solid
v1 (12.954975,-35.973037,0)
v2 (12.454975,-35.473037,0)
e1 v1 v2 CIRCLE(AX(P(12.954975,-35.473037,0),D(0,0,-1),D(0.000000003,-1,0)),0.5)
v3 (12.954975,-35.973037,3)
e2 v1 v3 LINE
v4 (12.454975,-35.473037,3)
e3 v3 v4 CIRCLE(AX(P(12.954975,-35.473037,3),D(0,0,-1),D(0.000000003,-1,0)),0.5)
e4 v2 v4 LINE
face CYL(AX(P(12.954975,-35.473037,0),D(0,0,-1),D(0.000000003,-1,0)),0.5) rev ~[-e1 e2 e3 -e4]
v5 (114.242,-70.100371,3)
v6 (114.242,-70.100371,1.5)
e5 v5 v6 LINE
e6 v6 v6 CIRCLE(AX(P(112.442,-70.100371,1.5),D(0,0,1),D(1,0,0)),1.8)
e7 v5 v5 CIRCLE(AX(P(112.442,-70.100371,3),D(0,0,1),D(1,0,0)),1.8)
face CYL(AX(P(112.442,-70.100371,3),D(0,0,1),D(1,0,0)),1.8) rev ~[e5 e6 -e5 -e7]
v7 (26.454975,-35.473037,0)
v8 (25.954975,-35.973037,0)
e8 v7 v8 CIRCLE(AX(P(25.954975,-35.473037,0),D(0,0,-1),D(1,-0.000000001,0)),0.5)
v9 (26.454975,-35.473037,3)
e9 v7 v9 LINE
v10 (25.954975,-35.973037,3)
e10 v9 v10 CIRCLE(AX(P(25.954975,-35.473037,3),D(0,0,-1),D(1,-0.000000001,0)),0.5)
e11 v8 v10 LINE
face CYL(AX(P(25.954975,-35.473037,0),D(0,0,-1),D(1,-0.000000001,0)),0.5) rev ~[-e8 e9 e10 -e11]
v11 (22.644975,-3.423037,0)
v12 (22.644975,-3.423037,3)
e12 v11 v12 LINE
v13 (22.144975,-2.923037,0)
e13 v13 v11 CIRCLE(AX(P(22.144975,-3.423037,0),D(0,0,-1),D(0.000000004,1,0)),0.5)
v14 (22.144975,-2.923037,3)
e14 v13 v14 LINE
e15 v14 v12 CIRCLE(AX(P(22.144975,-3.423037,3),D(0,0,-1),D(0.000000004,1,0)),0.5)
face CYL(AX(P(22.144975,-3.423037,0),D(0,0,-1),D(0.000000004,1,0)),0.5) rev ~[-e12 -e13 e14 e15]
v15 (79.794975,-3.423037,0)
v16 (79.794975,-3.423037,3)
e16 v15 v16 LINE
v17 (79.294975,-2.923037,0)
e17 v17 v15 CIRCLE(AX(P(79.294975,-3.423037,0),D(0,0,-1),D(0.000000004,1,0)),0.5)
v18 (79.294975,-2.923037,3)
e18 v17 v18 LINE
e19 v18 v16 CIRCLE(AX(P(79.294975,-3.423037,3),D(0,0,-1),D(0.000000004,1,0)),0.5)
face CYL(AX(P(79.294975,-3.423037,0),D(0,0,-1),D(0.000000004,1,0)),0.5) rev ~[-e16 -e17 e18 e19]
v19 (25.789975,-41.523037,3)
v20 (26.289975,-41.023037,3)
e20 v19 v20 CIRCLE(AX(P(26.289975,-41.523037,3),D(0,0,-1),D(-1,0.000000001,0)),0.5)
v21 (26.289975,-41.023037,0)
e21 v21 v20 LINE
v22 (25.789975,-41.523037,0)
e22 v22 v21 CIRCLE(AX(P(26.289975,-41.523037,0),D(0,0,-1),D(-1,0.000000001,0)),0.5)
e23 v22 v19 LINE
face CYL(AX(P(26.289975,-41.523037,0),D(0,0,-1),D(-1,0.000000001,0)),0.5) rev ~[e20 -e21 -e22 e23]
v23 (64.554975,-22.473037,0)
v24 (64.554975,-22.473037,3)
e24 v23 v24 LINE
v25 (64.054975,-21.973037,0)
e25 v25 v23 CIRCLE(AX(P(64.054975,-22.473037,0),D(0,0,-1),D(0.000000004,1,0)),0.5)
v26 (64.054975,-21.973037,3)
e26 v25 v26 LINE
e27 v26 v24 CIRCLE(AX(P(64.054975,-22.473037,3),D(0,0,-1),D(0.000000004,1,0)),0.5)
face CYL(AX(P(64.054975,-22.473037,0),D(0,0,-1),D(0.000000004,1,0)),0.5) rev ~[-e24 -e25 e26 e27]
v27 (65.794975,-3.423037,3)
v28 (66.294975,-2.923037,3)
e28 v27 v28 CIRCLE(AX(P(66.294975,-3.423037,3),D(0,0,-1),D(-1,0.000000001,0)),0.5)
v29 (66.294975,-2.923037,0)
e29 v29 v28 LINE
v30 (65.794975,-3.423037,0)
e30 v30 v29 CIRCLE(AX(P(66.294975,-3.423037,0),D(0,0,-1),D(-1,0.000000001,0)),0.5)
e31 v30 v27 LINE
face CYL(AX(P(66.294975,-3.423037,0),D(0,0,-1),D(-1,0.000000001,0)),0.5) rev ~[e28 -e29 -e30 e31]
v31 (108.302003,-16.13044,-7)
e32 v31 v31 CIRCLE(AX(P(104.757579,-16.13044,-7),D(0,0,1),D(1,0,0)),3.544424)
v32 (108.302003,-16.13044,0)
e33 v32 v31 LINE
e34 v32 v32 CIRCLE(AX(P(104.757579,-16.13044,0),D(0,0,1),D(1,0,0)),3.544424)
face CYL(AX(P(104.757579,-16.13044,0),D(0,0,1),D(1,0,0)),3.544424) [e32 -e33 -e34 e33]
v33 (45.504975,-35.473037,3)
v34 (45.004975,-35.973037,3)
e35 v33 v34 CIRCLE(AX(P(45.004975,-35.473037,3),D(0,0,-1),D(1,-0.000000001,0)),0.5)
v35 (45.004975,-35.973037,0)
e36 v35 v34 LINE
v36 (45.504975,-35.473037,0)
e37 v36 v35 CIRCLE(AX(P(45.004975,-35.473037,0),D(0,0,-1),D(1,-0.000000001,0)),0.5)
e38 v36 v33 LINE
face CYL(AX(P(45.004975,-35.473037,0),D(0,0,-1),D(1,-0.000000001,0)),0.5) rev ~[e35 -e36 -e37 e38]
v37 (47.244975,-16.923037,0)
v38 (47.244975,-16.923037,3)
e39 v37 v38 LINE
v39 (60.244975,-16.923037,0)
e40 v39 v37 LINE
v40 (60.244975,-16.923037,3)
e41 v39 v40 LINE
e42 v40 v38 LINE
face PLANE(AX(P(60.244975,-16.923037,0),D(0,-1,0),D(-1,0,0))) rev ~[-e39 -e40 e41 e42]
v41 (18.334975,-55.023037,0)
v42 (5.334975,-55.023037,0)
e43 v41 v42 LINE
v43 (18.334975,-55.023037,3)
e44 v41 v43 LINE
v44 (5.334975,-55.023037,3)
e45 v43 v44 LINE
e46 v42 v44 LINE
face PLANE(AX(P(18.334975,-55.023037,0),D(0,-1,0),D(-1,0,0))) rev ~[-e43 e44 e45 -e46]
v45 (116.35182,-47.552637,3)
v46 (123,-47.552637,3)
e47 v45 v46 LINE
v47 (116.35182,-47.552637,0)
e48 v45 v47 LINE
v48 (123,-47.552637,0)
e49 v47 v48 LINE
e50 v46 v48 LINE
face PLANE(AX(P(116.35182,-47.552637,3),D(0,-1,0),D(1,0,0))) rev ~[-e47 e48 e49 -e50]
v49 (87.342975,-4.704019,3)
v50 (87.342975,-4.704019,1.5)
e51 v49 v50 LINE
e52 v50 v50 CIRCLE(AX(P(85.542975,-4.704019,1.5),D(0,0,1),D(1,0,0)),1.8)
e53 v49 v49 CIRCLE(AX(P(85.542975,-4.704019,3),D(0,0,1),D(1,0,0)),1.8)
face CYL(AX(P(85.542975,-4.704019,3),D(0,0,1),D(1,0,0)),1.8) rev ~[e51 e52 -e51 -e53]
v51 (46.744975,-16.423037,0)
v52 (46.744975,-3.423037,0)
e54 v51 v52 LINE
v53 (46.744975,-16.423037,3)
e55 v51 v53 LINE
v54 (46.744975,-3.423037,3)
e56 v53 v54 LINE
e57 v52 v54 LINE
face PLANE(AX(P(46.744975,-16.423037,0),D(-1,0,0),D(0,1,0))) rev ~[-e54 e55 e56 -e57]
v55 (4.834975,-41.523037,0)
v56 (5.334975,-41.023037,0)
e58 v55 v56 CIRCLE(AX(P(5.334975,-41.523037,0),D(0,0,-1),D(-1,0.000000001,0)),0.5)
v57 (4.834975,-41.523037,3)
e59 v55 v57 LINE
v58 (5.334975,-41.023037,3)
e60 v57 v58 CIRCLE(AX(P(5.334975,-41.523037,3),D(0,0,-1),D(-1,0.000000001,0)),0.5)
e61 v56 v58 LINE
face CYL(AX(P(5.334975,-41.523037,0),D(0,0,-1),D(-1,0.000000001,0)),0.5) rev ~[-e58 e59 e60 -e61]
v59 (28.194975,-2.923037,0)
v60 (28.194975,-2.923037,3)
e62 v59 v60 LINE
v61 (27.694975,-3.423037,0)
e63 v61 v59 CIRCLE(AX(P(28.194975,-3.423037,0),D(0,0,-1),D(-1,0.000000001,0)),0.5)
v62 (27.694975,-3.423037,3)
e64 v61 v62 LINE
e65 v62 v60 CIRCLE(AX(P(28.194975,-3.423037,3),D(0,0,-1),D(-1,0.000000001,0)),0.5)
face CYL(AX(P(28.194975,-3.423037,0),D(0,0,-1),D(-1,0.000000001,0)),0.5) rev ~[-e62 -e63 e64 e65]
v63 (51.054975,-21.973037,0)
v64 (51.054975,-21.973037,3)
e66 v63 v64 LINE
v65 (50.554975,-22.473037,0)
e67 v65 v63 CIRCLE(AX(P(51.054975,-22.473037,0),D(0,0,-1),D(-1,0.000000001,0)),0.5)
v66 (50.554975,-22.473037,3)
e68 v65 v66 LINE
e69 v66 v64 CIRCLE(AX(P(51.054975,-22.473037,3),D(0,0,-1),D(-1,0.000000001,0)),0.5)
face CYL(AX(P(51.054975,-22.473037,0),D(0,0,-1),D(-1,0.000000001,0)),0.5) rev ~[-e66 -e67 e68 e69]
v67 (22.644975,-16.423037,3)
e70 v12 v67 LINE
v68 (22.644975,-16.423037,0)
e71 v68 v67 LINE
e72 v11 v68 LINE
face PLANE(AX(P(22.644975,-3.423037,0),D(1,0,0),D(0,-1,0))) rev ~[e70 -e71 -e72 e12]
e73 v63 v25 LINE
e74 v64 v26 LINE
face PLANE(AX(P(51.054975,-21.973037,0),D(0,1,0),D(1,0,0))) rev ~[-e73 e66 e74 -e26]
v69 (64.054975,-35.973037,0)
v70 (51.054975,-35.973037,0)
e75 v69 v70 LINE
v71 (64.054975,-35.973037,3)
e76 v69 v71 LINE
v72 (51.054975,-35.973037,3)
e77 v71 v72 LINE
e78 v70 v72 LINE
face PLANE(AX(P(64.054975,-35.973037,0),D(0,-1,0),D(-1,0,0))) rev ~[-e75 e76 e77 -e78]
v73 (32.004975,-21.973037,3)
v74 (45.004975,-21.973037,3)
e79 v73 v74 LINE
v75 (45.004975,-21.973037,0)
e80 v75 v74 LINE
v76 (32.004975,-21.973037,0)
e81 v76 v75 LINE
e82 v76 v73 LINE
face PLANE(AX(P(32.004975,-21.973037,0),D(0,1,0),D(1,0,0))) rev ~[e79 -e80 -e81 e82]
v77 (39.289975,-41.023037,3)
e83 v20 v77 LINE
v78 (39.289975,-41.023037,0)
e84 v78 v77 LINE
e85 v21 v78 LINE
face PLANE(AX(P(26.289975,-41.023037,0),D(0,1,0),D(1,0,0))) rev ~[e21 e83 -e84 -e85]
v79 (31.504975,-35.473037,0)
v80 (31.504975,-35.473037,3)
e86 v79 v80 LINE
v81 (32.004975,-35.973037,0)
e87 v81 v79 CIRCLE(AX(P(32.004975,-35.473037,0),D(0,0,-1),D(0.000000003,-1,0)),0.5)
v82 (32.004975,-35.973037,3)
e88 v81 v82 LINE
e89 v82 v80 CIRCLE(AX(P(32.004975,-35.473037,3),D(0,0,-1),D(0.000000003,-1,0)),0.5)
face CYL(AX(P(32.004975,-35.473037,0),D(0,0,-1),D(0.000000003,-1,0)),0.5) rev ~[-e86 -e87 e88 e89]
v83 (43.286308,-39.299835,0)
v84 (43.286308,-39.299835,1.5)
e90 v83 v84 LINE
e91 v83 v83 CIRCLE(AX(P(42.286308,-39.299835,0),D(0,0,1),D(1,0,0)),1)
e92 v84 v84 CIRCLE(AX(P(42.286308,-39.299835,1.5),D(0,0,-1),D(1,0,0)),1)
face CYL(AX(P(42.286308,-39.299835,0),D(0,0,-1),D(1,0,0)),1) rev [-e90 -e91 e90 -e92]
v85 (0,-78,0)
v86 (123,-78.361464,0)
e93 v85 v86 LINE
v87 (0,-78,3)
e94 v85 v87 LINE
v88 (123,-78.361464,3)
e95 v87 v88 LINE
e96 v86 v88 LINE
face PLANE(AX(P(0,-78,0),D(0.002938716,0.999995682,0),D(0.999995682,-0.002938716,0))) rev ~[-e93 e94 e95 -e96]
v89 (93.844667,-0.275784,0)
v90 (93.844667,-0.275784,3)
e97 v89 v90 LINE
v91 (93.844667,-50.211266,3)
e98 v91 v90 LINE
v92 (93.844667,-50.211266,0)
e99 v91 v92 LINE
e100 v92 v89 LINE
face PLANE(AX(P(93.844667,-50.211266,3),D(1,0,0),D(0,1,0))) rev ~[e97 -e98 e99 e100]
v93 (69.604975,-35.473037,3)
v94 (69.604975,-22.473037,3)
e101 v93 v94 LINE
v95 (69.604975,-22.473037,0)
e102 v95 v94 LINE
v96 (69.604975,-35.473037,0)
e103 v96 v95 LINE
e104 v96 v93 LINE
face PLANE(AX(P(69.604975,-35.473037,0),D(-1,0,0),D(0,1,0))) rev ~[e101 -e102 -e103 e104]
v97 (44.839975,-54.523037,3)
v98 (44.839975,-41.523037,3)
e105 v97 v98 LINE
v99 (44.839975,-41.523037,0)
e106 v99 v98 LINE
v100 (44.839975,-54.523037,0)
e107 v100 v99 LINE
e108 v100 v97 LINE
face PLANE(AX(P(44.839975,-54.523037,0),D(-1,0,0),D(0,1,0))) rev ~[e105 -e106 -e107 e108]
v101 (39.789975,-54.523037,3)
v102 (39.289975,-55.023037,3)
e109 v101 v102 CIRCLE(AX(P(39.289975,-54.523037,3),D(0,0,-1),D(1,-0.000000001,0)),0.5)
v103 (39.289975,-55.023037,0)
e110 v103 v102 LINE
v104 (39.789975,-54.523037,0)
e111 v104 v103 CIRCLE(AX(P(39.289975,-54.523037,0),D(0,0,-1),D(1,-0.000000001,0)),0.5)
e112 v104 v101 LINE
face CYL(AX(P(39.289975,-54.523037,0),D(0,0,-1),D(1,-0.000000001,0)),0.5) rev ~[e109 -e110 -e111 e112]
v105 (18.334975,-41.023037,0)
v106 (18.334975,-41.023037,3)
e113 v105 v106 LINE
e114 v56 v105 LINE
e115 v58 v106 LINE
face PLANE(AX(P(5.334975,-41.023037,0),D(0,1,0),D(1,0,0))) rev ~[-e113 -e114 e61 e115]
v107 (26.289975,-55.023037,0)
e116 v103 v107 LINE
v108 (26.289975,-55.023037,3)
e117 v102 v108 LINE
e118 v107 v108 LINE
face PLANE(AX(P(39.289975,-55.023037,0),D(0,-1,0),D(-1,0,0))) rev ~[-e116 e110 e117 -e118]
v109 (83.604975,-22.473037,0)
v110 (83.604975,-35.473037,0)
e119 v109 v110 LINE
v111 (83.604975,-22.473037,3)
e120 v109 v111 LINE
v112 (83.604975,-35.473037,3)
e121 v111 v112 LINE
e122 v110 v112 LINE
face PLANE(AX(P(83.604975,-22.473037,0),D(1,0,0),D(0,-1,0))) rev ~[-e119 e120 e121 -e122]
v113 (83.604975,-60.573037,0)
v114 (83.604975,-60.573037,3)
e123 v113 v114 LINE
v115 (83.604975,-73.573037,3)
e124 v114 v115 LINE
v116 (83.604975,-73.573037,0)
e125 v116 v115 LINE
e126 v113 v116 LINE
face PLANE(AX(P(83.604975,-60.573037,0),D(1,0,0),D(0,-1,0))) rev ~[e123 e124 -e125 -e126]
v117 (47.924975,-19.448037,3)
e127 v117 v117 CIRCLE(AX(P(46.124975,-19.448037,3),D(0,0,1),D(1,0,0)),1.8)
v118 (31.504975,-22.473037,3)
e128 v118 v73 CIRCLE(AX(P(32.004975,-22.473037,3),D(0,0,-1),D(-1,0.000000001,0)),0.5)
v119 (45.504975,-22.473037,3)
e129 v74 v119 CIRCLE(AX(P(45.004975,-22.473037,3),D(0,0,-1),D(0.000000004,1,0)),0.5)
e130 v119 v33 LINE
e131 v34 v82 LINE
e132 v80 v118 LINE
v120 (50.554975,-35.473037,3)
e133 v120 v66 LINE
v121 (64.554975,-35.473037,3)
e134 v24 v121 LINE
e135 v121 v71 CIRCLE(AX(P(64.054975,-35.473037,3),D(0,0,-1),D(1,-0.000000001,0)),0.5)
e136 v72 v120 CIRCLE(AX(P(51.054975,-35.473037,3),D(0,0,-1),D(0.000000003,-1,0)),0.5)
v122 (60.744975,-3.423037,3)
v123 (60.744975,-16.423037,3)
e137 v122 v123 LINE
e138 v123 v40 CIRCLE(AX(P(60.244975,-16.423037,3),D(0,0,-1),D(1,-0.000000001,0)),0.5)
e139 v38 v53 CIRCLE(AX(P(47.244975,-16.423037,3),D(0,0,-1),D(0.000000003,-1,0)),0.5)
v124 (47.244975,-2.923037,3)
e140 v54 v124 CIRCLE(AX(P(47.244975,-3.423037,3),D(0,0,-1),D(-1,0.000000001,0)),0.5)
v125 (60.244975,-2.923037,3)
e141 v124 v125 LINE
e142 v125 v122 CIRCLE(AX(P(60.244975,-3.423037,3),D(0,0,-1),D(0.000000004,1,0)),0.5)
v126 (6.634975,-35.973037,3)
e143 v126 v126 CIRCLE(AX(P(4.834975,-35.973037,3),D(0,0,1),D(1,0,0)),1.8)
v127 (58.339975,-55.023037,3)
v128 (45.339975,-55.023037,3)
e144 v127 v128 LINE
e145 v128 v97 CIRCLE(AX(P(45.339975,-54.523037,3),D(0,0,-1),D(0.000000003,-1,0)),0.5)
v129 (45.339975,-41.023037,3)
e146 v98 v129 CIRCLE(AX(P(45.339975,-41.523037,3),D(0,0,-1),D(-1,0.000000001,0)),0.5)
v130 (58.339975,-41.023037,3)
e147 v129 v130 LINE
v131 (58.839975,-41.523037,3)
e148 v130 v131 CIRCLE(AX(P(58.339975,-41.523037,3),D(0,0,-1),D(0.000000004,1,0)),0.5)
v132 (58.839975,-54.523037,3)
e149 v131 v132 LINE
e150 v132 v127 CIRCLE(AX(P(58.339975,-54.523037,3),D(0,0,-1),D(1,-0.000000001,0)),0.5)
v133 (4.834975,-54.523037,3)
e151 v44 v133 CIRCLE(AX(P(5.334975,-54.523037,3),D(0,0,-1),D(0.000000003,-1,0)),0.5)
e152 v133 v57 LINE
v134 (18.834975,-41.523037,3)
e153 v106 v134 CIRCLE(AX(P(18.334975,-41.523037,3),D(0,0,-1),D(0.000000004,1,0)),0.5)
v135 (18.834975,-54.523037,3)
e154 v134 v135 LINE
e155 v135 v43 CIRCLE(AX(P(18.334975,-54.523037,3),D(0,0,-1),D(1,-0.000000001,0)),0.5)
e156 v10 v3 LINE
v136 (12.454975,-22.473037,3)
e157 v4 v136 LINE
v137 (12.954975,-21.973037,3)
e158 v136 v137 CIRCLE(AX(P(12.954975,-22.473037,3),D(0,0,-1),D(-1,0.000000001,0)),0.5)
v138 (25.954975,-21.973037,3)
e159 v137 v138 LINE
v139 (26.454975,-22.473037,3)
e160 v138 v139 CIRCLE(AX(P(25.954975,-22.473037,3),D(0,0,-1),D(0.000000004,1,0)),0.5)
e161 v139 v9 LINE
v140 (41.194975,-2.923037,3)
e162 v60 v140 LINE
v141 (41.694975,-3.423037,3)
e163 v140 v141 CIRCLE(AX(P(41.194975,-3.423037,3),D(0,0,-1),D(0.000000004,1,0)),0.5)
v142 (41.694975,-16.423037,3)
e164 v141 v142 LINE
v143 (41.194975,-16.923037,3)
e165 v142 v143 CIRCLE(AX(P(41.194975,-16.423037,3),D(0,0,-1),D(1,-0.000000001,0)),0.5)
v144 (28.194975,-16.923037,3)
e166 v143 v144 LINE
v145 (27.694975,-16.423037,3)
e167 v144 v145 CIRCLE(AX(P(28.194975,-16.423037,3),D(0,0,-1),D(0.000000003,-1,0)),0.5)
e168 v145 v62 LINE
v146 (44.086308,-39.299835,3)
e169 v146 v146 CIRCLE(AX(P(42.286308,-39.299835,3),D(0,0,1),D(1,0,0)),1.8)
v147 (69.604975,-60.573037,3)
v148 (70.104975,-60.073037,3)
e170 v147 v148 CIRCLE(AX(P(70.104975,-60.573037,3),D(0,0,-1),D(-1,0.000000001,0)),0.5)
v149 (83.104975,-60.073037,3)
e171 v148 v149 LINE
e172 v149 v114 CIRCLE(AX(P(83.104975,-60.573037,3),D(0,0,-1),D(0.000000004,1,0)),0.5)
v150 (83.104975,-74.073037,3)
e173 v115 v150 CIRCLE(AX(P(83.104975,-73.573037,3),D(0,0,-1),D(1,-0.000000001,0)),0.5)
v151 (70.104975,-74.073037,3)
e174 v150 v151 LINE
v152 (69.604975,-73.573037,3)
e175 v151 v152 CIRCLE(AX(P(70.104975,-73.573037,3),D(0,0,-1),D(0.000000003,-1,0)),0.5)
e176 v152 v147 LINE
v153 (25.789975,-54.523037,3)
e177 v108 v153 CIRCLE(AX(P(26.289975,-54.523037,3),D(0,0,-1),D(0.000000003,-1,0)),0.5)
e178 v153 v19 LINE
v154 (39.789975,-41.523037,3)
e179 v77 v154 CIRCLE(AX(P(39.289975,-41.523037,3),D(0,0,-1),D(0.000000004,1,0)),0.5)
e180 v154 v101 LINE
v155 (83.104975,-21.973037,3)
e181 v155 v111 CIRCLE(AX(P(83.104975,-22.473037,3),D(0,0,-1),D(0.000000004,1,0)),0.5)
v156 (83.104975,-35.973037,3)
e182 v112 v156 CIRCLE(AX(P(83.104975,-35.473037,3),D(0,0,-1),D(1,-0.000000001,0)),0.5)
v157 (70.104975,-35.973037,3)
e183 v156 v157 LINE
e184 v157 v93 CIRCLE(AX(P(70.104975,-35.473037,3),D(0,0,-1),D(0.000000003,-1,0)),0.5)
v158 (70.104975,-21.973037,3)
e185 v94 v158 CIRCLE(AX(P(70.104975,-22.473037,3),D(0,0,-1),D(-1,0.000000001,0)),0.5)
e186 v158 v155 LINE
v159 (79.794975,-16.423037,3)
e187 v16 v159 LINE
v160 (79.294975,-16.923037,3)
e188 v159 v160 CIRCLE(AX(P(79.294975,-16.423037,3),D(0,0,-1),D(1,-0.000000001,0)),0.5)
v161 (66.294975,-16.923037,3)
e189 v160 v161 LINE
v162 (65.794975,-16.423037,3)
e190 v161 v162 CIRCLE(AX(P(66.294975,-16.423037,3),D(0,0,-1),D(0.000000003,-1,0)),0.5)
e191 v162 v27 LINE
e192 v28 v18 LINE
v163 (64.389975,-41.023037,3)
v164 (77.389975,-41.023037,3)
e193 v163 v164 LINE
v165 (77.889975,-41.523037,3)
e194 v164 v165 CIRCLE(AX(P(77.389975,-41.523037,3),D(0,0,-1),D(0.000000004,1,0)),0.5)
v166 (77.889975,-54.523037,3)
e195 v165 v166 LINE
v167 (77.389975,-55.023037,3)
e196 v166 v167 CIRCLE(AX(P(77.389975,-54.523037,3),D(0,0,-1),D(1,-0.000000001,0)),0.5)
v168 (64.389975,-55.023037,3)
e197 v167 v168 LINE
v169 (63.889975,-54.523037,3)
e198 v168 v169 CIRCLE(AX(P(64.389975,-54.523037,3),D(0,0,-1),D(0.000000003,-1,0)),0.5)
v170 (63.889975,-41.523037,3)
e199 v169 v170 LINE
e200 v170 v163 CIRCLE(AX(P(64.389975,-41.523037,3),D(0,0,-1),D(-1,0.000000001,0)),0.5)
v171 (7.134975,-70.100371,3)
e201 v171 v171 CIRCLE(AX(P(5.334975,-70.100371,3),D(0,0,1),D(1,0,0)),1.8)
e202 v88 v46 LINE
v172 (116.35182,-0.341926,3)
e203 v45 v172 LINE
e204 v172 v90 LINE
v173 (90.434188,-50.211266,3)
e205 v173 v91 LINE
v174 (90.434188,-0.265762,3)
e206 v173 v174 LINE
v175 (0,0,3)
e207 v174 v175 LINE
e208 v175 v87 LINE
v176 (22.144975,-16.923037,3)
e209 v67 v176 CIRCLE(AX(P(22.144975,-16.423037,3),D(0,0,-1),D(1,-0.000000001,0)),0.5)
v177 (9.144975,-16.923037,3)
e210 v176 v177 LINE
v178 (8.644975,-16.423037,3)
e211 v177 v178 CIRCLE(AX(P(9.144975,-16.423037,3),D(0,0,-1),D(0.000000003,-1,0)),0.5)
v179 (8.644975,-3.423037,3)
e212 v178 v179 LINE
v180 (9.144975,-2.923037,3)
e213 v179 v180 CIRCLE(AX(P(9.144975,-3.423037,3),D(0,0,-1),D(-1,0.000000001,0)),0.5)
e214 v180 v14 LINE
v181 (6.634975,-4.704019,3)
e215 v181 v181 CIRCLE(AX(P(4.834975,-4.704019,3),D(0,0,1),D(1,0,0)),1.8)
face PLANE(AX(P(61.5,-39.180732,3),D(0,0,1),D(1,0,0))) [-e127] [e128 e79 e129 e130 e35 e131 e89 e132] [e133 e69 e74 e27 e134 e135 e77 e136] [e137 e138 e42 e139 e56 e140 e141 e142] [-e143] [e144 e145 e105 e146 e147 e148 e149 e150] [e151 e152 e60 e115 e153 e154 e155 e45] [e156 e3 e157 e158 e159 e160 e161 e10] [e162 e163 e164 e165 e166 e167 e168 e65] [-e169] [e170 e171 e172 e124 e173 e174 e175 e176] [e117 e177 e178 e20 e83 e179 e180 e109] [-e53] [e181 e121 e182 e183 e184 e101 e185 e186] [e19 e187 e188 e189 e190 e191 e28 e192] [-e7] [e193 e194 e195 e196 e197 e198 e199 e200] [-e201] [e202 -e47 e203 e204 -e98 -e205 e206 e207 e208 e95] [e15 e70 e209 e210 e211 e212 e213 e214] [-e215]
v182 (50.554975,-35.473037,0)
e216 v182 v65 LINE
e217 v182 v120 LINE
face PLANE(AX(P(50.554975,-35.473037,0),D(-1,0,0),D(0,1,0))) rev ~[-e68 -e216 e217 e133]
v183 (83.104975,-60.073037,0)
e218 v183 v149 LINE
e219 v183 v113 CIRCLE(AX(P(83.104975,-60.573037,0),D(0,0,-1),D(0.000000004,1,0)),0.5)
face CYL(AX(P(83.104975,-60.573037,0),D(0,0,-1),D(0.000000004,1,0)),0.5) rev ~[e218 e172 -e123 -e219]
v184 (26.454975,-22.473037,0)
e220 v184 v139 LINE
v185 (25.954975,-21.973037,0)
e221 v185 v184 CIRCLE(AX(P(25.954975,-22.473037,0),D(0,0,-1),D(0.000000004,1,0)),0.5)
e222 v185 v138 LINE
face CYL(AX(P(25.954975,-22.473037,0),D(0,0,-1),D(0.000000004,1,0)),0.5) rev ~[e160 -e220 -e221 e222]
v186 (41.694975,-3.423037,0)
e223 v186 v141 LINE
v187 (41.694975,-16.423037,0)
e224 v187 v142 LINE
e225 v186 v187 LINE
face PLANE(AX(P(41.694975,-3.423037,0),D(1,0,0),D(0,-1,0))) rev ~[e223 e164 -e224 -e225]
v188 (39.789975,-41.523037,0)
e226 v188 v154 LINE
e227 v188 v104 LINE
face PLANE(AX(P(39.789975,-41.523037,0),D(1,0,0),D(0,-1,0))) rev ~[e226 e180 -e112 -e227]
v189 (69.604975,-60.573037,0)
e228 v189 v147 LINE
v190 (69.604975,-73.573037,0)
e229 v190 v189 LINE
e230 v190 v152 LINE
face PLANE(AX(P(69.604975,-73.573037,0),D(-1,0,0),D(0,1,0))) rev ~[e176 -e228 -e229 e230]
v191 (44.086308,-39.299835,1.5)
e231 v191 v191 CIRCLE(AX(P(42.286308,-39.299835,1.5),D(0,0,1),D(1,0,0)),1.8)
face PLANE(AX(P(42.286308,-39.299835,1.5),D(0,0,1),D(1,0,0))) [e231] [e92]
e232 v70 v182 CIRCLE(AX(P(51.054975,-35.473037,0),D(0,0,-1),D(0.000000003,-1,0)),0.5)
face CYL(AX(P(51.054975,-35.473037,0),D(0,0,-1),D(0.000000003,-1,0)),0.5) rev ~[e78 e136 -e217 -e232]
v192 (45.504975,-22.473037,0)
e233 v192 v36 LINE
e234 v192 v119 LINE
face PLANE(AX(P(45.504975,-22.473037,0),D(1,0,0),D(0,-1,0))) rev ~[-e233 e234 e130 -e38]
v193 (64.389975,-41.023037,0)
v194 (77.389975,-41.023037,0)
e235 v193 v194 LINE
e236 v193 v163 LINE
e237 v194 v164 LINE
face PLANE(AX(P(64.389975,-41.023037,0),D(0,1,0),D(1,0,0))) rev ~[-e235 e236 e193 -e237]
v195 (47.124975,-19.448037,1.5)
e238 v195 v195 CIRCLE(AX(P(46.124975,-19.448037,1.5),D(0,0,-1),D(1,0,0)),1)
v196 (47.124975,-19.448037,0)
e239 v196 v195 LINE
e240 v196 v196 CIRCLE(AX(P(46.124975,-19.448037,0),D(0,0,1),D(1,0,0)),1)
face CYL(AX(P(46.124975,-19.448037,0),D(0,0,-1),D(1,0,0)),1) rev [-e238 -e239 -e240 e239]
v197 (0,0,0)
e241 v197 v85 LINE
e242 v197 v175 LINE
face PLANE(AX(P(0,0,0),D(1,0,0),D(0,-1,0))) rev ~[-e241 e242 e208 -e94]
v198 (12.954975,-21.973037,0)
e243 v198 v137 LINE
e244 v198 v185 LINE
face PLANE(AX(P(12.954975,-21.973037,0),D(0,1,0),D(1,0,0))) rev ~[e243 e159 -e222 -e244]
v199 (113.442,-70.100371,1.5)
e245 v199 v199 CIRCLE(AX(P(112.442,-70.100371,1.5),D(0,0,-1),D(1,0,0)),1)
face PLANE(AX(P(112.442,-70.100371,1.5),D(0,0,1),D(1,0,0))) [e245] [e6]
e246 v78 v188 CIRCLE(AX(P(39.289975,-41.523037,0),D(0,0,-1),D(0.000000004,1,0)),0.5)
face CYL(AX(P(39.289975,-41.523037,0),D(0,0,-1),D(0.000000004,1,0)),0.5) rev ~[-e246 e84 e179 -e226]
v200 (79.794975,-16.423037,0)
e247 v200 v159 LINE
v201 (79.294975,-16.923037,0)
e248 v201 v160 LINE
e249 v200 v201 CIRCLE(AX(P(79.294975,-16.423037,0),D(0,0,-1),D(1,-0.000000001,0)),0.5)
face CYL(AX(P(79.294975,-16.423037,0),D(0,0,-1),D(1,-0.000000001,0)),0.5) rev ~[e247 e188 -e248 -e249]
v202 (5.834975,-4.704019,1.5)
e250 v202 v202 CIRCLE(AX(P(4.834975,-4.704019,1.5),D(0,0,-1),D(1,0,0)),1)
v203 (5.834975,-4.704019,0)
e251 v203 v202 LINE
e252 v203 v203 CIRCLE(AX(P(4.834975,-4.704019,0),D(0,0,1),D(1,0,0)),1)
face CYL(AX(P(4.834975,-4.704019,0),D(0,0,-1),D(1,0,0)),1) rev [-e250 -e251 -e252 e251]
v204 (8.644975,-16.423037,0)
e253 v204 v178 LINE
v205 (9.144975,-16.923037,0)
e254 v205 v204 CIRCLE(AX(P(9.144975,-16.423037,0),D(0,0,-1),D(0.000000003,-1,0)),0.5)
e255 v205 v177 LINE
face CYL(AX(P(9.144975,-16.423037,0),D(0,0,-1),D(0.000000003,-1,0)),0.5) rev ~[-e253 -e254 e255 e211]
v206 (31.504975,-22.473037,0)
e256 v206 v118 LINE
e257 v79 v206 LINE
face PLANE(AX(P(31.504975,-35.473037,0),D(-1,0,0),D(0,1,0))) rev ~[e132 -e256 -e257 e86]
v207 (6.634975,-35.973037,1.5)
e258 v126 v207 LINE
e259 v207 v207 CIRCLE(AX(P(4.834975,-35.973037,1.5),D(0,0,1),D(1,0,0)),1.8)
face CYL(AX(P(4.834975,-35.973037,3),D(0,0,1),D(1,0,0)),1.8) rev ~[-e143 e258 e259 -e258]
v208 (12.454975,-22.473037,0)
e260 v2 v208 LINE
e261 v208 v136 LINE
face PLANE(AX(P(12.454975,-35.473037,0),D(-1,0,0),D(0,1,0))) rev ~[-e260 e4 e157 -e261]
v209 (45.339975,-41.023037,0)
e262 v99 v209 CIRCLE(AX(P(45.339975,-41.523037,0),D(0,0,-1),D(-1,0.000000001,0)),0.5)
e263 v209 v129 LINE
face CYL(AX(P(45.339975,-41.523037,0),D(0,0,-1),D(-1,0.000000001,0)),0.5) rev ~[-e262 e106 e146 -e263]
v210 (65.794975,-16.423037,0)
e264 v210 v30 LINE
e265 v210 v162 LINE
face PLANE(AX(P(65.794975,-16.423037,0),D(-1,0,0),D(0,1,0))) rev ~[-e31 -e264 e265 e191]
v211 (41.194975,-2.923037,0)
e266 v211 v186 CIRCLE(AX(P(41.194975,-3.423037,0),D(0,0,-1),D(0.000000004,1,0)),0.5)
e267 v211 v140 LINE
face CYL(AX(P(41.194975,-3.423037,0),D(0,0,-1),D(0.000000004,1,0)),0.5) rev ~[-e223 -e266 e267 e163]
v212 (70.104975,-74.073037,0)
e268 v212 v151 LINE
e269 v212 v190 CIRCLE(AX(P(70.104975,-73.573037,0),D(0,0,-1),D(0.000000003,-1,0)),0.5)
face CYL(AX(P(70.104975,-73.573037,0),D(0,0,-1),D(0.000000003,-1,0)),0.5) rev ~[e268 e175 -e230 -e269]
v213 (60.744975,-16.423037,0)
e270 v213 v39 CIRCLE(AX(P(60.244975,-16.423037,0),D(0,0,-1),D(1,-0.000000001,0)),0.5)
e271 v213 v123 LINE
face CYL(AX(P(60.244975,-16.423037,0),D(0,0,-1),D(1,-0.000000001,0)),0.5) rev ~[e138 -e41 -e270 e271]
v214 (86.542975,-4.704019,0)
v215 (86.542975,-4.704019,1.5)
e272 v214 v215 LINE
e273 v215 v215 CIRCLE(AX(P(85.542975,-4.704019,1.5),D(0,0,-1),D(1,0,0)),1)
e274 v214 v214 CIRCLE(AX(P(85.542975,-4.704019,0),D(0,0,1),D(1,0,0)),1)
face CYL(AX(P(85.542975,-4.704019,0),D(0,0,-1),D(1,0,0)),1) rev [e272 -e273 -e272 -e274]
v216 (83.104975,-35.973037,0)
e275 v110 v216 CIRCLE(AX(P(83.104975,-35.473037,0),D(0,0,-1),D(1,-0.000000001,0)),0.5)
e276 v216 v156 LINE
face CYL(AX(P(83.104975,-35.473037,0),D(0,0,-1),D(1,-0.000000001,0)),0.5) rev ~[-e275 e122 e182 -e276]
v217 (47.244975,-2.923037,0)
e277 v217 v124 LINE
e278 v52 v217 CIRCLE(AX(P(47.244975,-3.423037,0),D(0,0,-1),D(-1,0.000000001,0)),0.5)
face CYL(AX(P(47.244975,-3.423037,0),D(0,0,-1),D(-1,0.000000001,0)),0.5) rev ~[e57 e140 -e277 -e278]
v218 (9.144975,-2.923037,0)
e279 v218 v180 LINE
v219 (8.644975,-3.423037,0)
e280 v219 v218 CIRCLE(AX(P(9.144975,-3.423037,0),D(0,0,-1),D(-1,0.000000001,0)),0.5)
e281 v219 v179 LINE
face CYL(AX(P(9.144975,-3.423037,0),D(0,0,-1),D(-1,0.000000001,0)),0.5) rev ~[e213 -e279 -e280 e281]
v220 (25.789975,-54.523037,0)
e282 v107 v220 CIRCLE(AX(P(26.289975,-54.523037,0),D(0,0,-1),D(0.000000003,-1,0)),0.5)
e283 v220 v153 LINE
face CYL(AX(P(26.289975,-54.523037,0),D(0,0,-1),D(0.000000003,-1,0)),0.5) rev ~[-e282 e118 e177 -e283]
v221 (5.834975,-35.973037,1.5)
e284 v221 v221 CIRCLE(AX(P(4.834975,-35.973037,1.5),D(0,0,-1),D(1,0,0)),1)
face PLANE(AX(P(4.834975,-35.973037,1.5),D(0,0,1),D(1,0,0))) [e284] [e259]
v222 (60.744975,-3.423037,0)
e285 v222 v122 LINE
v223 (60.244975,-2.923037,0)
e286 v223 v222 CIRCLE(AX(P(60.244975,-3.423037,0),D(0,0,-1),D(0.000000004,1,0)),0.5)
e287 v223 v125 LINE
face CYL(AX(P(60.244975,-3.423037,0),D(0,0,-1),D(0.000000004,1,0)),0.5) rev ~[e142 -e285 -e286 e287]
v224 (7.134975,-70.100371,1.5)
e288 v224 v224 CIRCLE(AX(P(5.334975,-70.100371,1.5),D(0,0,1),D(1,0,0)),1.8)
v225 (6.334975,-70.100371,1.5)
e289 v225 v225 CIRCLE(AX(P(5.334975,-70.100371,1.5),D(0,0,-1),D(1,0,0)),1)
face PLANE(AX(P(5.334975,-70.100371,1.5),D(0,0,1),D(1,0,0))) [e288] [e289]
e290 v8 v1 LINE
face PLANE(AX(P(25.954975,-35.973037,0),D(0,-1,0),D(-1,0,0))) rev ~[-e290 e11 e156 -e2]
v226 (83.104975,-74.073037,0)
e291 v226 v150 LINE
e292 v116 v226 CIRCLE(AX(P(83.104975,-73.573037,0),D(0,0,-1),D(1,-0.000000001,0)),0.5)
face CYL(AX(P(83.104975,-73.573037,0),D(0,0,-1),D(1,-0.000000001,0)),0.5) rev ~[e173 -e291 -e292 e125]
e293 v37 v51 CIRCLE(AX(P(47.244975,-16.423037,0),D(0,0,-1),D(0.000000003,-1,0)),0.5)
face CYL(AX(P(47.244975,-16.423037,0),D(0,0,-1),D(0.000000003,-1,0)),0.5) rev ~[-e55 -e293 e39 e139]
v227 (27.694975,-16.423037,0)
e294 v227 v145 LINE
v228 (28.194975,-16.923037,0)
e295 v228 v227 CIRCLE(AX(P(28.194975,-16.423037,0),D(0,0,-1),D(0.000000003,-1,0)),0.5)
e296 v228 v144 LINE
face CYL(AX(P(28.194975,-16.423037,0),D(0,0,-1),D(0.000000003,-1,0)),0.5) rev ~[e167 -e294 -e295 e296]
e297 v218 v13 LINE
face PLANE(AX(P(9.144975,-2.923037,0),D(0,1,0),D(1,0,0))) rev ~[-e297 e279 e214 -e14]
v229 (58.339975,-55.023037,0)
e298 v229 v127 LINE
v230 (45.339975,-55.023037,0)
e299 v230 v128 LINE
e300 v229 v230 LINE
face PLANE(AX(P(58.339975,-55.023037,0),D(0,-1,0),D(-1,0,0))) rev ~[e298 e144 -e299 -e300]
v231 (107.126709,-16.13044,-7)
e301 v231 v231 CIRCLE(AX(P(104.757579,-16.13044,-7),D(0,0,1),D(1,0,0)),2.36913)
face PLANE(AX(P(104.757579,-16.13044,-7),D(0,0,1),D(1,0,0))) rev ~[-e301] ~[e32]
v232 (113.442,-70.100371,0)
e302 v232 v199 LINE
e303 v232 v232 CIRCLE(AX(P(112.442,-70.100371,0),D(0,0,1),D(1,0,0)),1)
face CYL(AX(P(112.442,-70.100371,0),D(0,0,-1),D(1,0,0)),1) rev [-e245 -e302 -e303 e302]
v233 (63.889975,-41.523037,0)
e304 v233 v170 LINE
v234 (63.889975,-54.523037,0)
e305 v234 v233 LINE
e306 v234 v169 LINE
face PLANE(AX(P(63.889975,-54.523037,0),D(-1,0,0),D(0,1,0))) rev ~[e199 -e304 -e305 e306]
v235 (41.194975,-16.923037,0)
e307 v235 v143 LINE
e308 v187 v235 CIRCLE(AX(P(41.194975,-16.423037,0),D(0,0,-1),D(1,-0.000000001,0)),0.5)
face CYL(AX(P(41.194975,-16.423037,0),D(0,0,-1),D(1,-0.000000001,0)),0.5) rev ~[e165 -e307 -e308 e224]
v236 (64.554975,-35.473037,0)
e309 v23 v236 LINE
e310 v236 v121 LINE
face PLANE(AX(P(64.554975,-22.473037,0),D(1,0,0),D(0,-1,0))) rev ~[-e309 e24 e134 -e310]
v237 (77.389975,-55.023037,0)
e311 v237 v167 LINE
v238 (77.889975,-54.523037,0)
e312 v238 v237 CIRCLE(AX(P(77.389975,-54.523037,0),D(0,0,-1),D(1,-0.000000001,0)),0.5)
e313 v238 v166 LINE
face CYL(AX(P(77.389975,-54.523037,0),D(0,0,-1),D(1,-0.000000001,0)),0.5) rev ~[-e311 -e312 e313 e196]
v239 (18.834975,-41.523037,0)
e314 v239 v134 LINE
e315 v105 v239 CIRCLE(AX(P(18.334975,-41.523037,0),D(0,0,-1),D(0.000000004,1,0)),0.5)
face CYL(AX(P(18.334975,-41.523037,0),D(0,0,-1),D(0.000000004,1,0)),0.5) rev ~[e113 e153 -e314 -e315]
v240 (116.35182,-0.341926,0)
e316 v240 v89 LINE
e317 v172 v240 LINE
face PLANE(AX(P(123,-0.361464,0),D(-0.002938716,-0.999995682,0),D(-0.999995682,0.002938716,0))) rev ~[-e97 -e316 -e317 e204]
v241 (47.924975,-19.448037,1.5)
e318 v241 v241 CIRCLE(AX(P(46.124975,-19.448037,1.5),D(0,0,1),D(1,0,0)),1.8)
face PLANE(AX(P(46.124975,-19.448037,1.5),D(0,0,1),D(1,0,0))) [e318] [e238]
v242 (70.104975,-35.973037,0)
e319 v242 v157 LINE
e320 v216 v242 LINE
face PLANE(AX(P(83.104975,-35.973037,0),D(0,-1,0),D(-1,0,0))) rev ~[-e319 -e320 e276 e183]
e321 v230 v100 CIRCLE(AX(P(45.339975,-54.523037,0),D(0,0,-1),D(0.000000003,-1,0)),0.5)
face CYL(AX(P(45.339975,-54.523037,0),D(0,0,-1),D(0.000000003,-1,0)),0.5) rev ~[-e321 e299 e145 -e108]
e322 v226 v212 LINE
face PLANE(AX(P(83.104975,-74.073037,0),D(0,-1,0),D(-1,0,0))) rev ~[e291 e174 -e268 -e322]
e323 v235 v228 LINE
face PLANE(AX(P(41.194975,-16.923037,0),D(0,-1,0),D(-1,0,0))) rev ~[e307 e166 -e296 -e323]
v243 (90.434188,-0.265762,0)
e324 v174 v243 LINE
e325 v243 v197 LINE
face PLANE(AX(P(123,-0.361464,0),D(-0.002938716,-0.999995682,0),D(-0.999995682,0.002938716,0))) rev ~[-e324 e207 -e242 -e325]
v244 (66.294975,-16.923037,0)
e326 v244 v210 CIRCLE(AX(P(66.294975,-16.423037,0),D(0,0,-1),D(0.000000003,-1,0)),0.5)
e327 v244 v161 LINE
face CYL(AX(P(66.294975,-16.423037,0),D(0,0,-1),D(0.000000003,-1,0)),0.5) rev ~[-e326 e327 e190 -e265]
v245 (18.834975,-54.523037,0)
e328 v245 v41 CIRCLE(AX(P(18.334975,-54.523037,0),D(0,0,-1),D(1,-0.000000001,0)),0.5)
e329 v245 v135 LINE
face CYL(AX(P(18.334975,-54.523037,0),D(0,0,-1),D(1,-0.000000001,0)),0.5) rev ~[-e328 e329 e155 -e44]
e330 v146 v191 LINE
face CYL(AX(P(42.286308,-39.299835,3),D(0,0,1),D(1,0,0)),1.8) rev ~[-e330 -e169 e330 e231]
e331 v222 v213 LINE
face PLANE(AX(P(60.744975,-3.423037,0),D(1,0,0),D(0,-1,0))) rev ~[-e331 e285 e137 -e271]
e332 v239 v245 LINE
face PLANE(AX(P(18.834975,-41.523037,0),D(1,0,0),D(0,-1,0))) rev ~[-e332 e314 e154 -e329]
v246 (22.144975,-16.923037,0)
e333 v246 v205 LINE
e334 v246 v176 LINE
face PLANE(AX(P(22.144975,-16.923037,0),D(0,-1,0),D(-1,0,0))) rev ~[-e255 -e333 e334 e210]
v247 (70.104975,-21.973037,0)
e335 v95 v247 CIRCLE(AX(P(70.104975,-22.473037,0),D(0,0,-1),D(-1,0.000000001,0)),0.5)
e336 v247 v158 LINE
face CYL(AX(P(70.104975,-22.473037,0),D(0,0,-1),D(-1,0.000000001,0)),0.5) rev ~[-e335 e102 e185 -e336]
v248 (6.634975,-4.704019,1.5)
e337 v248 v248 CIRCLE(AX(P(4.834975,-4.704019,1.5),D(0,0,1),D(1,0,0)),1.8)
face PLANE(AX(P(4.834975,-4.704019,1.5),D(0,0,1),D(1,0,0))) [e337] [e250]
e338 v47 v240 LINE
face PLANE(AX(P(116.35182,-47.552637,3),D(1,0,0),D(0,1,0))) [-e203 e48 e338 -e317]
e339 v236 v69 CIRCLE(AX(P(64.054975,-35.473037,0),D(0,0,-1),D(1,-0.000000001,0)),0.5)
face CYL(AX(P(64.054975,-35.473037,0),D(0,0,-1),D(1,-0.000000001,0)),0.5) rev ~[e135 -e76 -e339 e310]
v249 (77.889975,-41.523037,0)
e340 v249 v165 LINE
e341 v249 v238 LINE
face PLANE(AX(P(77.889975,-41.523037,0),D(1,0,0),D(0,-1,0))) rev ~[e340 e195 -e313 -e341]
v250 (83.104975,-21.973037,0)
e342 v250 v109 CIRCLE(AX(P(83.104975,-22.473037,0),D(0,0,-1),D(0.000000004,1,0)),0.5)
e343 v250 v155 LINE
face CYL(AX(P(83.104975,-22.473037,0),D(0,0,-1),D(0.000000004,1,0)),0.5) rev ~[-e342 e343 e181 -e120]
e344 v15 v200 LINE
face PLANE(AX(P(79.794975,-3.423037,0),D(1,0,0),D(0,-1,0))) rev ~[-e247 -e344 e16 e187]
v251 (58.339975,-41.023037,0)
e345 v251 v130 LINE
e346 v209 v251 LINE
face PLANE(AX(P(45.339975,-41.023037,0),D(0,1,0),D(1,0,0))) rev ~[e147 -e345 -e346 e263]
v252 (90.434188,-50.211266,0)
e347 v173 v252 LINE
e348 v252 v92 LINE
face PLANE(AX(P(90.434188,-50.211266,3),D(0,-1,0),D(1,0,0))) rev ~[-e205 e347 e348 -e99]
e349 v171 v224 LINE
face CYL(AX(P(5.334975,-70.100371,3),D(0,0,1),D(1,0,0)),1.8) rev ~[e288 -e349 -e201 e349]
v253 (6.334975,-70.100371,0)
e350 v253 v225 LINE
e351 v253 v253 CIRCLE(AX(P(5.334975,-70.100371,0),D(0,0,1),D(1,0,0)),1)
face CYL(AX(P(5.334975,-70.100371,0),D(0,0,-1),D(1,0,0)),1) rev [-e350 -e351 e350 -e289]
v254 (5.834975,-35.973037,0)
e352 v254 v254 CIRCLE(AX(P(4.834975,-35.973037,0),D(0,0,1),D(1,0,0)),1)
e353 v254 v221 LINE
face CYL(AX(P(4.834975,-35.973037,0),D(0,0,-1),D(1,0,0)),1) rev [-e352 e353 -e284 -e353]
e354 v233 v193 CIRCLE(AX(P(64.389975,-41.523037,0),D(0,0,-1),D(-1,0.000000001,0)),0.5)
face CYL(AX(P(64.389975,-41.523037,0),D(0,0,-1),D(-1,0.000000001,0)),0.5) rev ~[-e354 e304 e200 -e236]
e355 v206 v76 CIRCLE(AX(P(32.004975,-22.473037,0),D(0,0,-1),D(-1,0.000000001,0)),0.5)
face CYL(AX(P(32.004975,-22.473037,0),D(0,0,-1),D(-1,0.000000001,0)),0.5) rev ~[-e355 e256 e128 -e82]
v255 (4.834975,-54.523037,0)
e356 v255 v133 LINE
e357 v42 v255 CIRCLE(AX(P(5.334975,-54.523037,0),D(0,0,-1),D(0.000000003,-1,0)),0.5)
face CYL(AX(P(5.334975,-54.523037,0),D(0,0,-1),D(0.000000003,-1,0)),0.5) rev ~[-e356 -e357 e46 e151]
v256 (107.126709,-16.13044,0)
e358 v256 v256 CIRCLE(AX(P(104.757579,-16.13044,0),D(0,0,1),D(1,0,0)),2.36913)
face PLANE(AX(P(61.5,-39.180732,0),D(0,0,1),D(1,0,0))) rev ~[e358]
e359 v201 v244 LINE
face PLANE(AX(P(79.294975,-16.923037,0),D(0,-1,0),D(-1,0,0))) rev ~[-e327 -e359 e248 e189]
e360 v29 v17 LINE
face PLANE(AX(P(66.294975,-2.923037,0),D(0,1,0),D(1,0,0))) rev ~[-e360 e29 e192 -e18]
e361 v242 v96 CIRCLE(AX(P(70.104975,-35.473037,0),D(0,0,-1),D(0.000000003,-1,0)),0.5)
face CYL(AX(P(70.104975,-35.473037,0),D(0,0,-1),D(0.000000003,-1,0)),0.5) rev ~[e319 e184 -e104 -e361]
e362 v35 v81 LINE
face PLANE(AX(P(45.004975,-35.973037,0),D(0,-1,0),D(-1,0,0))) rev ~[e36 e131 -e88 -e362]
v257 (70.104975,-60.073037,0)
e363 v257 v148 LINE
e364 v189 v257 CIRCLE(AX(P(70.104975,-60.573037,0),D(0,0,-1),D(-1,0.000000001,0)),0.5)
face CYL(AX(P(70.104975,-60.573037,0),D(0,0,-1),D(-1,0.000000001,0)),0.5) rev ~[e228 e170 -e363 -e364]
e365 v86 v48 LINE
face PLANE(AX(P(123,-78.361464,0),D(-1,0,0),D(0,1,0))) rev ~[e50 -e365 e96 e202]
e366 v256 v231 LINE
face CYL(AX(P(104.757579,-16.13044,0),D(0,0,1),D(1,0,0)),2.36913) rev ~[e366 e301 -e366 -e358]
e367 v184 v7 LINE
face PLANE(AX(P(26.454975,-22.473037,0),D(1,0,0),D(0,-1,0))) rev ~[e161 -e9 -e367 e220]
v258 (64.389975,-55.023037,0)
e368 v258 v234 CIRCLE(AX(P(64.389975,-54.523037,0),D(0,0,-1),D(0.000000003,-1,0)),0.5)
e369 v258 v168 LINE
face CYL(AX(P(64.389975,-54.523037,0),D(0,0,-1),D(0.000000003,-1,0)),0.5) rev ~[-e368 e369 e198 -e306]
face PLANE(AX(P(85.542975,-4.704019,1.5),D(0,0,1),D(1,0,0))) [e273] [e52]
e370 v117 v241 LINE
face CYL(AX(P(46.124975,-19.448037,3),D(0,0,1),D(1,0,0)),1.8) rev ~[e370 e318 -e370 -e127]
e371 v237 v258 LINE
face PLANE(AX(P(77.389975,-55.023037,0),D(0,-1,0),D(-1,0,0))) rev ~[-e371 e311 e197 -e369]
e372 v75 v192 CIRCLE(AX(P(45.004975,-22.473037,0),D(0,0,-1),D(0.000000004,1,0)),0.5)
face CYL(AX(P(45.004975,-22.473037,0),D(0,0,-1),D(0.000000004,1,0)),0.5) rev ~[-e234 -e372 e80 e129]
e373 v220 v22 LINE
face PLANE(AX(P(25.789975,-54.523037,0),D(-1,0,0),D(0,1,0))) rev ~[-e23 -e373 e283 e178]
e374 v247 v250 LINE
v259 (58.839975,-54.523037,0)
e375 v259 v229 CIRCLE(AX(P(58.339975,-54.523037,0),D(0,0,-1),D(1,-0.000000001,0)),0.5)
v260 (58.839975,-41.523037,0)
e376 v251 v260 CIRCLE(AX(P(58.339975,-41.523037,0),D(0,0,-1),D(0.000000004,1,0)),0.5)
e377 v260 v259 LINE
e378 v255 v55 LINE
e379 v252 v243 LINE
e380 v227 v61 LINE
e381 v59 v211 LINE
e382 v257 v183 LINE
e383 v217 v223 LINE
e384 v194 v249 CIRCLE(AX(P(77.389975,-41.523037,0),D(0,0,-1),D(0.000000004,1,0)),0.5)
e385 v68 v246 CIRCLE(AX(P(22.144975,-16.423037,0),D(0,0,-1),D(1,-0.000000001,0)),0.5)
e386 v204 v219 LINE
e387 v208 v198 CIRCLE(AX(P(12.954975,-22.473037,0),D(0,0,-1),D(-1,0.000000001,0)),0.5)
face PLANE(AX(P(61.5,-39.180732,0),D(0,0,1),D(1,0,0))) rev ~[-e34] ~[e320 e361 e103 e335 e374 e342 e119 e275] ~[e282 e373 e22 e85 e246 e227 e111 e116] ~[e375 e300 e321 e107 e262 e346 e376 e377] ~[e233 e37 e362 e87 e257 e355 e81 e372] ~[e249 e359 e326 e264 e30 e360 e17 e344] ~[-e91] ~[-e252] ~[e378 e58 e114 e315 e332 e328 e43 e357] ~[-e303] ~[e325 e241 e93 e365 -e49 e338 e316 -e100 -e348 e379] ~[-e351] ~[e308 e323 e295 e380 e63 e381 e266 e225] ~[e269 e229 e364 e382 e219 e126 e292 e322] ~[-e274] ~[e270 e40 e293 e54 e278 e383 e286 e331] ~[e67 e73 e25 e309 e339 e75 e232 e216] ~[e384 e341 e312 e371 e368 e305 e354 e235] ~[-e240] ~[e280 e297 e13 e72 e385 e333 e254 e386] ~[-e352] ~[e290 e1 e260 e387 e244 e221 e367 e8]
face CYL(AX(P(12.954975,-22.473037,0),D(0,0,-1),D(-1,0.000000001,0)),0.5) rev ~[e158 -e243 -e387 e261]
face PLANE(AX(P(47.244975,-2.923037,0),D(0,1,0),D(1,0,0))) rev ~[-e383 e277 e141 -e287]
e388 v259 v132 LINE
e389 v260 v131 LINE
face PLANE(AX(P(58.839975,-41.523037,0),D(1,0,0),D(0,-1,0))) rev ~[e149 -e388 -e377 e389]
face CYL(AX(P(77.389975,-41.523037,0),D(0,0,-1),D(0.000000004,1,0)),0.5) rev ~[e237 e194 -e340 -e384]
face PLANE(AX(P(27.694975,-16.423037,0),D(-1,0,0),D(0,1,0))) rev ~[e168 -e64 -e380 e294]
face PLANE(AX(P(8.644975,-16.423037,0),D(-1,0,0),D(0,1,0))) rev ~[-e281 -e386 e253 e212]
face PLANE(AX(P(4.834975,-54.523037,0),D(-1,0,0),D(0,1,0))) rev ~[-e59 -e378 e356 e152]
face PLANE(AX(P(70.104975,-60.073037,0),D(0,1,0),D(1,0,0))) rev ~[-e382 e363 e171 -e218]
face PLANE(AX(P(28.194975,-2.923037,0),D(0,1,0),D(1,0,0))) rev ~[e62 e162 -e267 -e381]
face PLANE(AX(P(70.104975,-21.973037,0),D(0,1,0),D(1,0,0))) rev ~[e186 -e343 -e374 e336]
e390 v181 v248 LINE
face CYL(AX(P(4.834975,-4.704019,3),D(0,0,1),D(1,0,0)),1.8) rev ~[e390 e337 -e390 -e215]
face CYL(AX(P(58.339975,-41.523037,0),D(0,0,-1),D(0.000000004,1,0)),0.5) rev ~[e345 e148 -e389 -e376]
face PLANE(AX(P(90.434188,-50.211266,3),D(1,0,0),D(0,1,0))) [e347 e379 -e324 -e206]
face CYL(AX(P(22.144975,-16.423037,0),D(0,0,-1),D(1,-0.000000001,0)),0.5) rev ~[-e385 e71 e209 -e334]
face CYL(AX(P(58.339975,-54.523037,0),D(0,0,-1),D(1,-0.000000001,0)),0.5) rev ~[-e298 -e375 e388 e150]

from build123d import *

# Parameters (mm, degrees)
MODEL_R             = 1
BOSS_EXTRUDE1_DEPTH = 3
CUT_EXTRUDE1_START  = 3
MODEL_3_R           = 1.8
CUT_EXTRUDE1_DEPTH  = 1.5
SKETCH3_W           = 3.410478587
SKETCH3_H           = 49.945504098
SKETCH3_W_2         = 6.648180457
SKETCH3_H_2         = 47.210710856
CUT_EXTRUDE2_DEPTH  = 5
SKETCH4_R           = 3.544423748
SKETCH4_R_2         = 2.369129831
BOSS_EXTRUDE2_DEPTH = 7


with BuildPart() as part:
    # Model → Boss-Extrude1 (new body)
    with BuildSketch(Plane.XY):
        Polygon((0, -78), (123, -78.361463573), (123, -0.361463573), (0, 0), align=None)
        with Locations((4.834975253, -4.704019458)):
            Circle(MODEL_R, mode=Mode.SUBTRACT)
        with Locations((46.124975253, -19.448037489)):
            Circle(MODEL_R, mode=Mode.SUBTRACT)
        with Locations((42.286307754, -39.29983525)):
            Circle(MODEL_R, mode=Mode.SUBTRACT)
        with Locations((4.834975253, -35.973037489)):
            Circle(MODEL_R, mode=Mode.SUBTRACT)
        with Locations((85.542975253, -4.704019458)):
            Circle(MODEL_R, mode=Mode.SUBTRACT)
        with Locations((5.334975253, -70.100370509)):
            Circle(MODEL_R, mode=Mode.SUBTRACT)
        with Locations((112.441999555, -70.100370509)):
            Circle(MODEL_R, mode=Mode.SUBTRACT)
        with BuildLine():
            Line((9.144975253, -2.923037489), (22.144975253, -2.923037489))
            ThreePointArc((22.144975253, -2.923037489), (22.498528643, -3.069484099), (22.644975253, -3.423037489))
            Line((22.644975253, -3.423037489), (22.644975253, -16.423037489))
            ThreePointArc((22.644975253, -16.423037489), (22.498528643, -16.77659088), (22.144975253, -16.923037489))
            Line((22.144975253, -16.923037489), (9.144975253, -16.923037489))
            ThreePointArc((9.144975253, -16.923037489), (8.791421862, -16.77659088), (8.644975253, -16.423037489))
            Line((8.644975253, -16.423037489), (8.644975253, -3.423037489))
            ThreePointArc((8.644975253, -3.423037489), (8.791421862, -3.069484099), (9.144975253, -2.923037489))
        make_face(mode=Mode.SUBTRACT)
        with BuildLine():
            Line((28.194975253, -2.923037489), (41.194975253, -2.923037489))
            ThreePointArc((41.194975253, -2.923037489), (41.548528643, -3.069484099), (41.694975253, -3.423037489))
            Line((41.694975253, -3.423037489), (41.694975253, -16.423037489))
            ThreePointArc((41.694975253, -16.423037489), (41.548528643, -16.77659088), (41.194975253, -16.923037489))
            Line((41.194975253, -16.923037489), (28.194975253, -16.923037489))
            ThreePointArc((28.194975253, -16.923037489), (27.841421862, -16.77659088), (27.694975253, -16.423037489))
            Line((27.694975253, -16.423037489), (27.694975253, -3.423037489))
            ThreePointArc((27.694975253, -3.423037489), (27.841421862, -3.069484099), (28.194975253, -2.923037489))
        make_face(mode=Mode.SUBTRACT)
        with BuildLine():
            Line((47.244975253, -2.923037489), (60.244975253, -2.923037489))
            ThreePointArc((60.244975253, -2.923037489), (60.598528643, -3.069484099), (60.744975253, -3.423037489))
            Line((60.744975253, -3.423037489), (60.744975253, -16.423037489))
            ThreePointArc((60.744975253, -16.423037489), (60.598528643, -16.77659088), (60.244975253, -16.923037489))
            Line((60.244975253, -16.923037489), (47.244975253, -16.923037489))
            ThreePointArc((47.244975253, -16.923037489), (46.891421862, -16.77659088), (46.744975253, -16.423037489))
            Line((46.744975253, -16.423037489), (46.744975253, -3.423037489))
            ThreePointArc((46.744975253, -3.423037489), (46.891421862, -3.069484099), (47.244975253, -2.923037489))
        make_face(mode=Mode.SUBTRACT)
        with BuildLine():
            Line((66.294975253, -2.923037489), (79.294975253, -2.923037489))
            ThreePointArc((79.294975253, -2.923037489), (79.648528643, -3.069484099), (79.794975253, -3.423037489))
            Line((79.794975253, -3.423037489), (79.794975253, -16.423037489))
            ThreePointArc((79.794975253, -16.423037489), (79.648528643, -16.77659088), (79.294975253, -16.923037489))
            Line((79.294975253, -16.923037489), (66.294975253, -16.923037489))
            ThreePointArc((66.294975253, -16.923037489), (65.941421862, -16.77659088), (65.794975253, -16.423037489))
            Line((65.794975253, -16.423037489), (65.794975253, -3.423037489))
            ThreePointArc((65.794975253, -3.423037489), (65.941421862, -3.069484099), (66.294975253, -2.923037489))
        make_face(mode=Mode.SUBTRACT)
        with BuildLine():
            Line((12.954975253, -21.973037489), (25.954975253, -21.973037489))
            ThreePointArc((25.954975253, -21.973037489), (26.308528643, -22.119484099), (26.454975253, -22.473037489))
            Line((26.454975253, -22.473037489), (26.454975253, -35.473037489))
            ThreePointArc((26.454975253, -35.473037489), (26.308528643, -35.82659088), (25.954975253, -35.973037489))
            Line((25.954975253, -35.973037489), (12.954975253, -35.973037489))
            ThreePointArc((12.954975253, -35.973037489), (12.601421862, -35.82659088), (12.454975253, -35.473037489))
            Line((12.454975253, -35.473037489), (12.454975253, -22.473037489))
            ThreePointArc((12.454975253, -22.473037489), (12.601421862, -22.119484099), (12.954975253, -21.973037489))
        make_face(mode=Mode.SUBTRACT)
        with BuildLine():
            Line((32.004975253, -21.973037489), (45.004975253, -21.973037489))
            ThreePointArc((45.004975253, -21.973037489), (45.358528643, -22.119484099), (45.504975253, -22.473037489))
            Line((45.504975253, -22.473037489), (45.504975253, -35.473037489))
            ThreePointArc((45.504975253, -35.473037489), (45.358528643, -35.82659088), (45.004975253, -35.973037489))
            Line((45.004975253, -35.973037489), (32.004975253, -35.973037489))
            ThreePointArc((32.004975253, -35.973037489), (31.651421862, -35.82659088), (31.504975253, -35.473037489))
            Line((31.504975253, -35.473037489), (31.504975253, -22.473037489))
            ThreePointArc((31.504975253, -22.473037489), (31.651421862, -22.119484099), (32.004975253, -21.973037489))
        make_face(mode=Mode.SUBTRACT)
        with BuildLine():
            Line((51.054975253, -21.973037489), (64.054975253, -21.973037489))
            ThreePointArc((64.054975253, -21.973037489), (64.408528643, -22.119484099), (64.554975253, -22.473037489))
            Line((64.554975253, -22.473037489), (64.554975253, -35.473037489))
            ThreePointArc((64.554975253, -35.473037489), (64.408528643, -35.82659088), (64.054975253, -35.973037489))
            Line((64.054975253, -35.973037489), (51.054975253, -35.973037489))
            ThreePointArc((51.054975253, -35.973037489), (50.701421862, -35.82659088), (50.554975253, -35.473037489))
            Line((50.554975253, -35.473037489), (50.554975253, -22.473037489))
            ThreePointArc((50.554975253, -22.473037489), (50.701421862, -22.119484099), (51.054975253, -21.973037489))
        make_face(mode=Mode.SUBTRACT)
        with BuildLine():
            Line((70.104975253, -21.973037489), (83.104975253, -21.973037489))
            ThreePointArc((83.104975253, -21.973037489), (83.458528643, -22.119484099), (83.604975253, -22.473037489))
            Line((83.604975253, -22.473037489), (83.604975253, -35.473037489))
            ThreePointArc((83.604975253, -35.473037489), (83.458528643, -35.82659088), (83.104975253, -35.973037489))
            Line((83.104975253, -35.973037489), (70.104975253, -35.973037489))
            ThreePointArc((70.104975253, -35.973037489), (69.751421862, -35.82659088), (69.604975253, -35.473037489))
            Line((69.604975253, -35.473037489), (69.604975253, -22.473037489))
            ThreePointArc((69.604975253, -22.473037489), (69.751421862, -22.119484099), (70.104975253, -21.973037489))
        make_face(mode=Mode.SUBTRACT)
        with BuildLine():
            Line((5.334975253, -41.023037489), (18.334975253, -41.023037489))
            ThreePointArc((18.334975253, -41.023037489), (18.688528643, -41.169484099), (18.834975253, -41.523037489))
            Line((18.834975253, -41.523037489), (18.834975253, -54.523037489))
            ThreePointArc((18.834975253, -54.523037489), (18.688528643, -54.87659088), (18.334975253, -55.023037489))
            Line((18.334975253, -55.023037489), (5.334975253, -55.023037489))
            ThreePointArc((5.334975253, -55.023037489), (4.981421862, -54.87659088), (4.834975253, -54.523037489))
            Line((4.834975253, -54.523037489), (4.834975253, -41.523037489))
            ThreePointArc((4.834975253, -41.523037489), (4.981421862, -41.169484099), (5.334975253, -41.023037489))
        make_face(mode=Mode.SUBTRACT)
        with BuildLine():
            Line((26.289975253, -41.023037489), (39.289975253, -41.023037489))
            ThreePointArc((39.289975253, -41.023037489), (39.643528643, -41.169484099), (39.789975253, -41.523037489))
            Line((39.789975253, -41.523037489), (39.789975253, -54.523037489))
            ThreePointArc((39.789975253, -54.523037489), (39.643528643, -54.87659088), (39.289975253, -55.023037489))
            Line((39.289975253, -55.023037489), (26.289975253, -55.023037489))
            ThreePointArc((26.289975253, -55.023037489), (25.936421862, -54.87659088), (25.789975253, -54.523037489))
            Line((25.789975253, -54.523037489), (25.789975253, -41.523037489))
            ThreePointArc((25.789975253, -41.523037489), (25.936421862, -41.169484099), (26.289975253, -41.023037489))
        make_face(mode=Mode.SUBTRACT)
        with BuildLine():
            Line((45.339975253, -41.023037489), (58.339975253, -41.023037489))
            ThreePointArc((58.339975253, -41.023037489), (58.693528643, -41.169484099), (58.839975253, -41.523037489))
            Line((58.839975253, -41.523037489), (58.839975253, -54.523037489))
            ThreePointArc((58.839975253, -54.523037489), (58.693528643, -54.87659088), (58.339975253, -55.023037489))
            Line((58.339975253, -55.023037489), (45.339975253, -55.023037489))
            ThreePointArc((45.339975253, -55.023037489), (44.986421862, -54.87659088), (44.839975253, -54.523037489))
            Line((44.839975253, -54.523037489), (44.839975253, -41.523037489))
            ThreePointArc((44.839975253, -41.523037489), (44.986421862, -41.169484099), (45.339975253, -41.023037489))
        make_face(mode=Mode.SUBTRACT)
        with BuildLine():
            Line((64.389975253, -41.023037489), (77.389975253, -41.023037489))
            ThreePointArc((77.389975253, -41.023037489), (77.743528643, -41.169484099), (77.889975253, -41.523037489))
            Line((77.889975253, -41.523037489), (77.889975253, -54.523037489))
            ThreePointArc((77.889975253, -54.523037489), (77.743528643, -54.87659088), (77.389975253, -55.023037489))
            Line((77.389975253, -55.023037489), (64.389975253, -55.023037489))
            ThreePointArc((64.389975253, -55.023037489), (64.036421862, -54.87659088), (63.889975253, -54.523037489))
            Line((63.889975253, -54.523037489), (63.889975253, -41.523037489))
            ThreePointArc((63.889975253, -41.523037489), (64.036421862, -41.169484099), (64.389975253, -41.023037489))
        make_face(mode=Mode.SUBTRACT)
        with BuildLine():
            Line((70.104975253, -60.073037489), (83.104975253, -60.073037489))
            ThreePointArc((83.104975253, -60.073037489), (83.458528643, -60.219484099), (83.604975253, -60.573037489))
            Line((83.604975253, -60.573037489), (83.604975253, -73.573037489))
            ThreePointArc((83.604975253, -73.573037489), (83.458528643, -73.92659088), (83.104975253, -74.073037489))
            Line((83.104975253, -74.073037489), (70.104975253, -74.073037489))
            ThreePointArc((70.104975253, -74.073037489), (69.751421862, -73.92659088), (69.604975253, -73.573037489))
            Line((69.604975253, -73.573037489), (69.604975253, -60.573037489))
            ThreePointArc((69.604975253, -60.573037489), (69.751421862, -60.219484099), (70.104975253, -60.073037489))
        make_face(mode=Mode.SUBTRACT)
    extrude(amount=BOSS_EXTRUDE1_DEPTH)

    # Model<3> → Cut-Extrude1 (cut)
    with BuildSketch(Plane.XY.offset(CUT_EXTRUDE1_START)):
        with Locations((85.542975253, -4.704019458)):
            Circle(MODEL_3_R)
        with Locations((4.834975253, -4.704019458)):
            Circle(MODEL_3_R)
        with Locations((46.124975253, -19.448037489)):
            Circle(MODEL_3_R)
        with Locations((42.286307754, -39.29983525)):
            Circle(MODEL_3_R)
        with Locations((4.834975253, -35.973037489)):
            Circle(MODEL_3_R)
        with Locations((5.334975253, -70.100370509)):
            Circle(MODEL_3_R)
        with Locations((112.441999555, -70.100370509)):
            Circle(MODEL_3_R)
    extrude(amount=-CUT_EXTRUDE1_DEPTH, mode=Mode.SUBTRACT)

    # Sketch3 → Cut-Extrude2 (cut)
    with BuildSketch(Plane.XY.offset(3)):
        with Locations((92.139427294, -25.238513551)):
            Rectangle(SKETCH3_W, SKETCH3_H)
        with Locations((119.675909772, -23.947281806)):
            Rectangle(SKETCH3_W_2, SKETCH3_H_2)
    extrude(amount=-CUT_EXTRUDE2_DEPTH, mode=Mode.SUBTRACT)

    # Sketch4 → Boss-Extrude2 (add)
    with BuildSketch(Plane.XY):
        with Locations((104.757578873, -16.130439743)):
            Circle(SKETCH4_R)
        with Locations((104.757578873, -16.130439743)):
            Circle(SKETCH4_R_2, mode=Mode.SUBTRACT)
    extrude(amount=-BOSS_EXTRUDE2_DEPTH)


solid = part.part
